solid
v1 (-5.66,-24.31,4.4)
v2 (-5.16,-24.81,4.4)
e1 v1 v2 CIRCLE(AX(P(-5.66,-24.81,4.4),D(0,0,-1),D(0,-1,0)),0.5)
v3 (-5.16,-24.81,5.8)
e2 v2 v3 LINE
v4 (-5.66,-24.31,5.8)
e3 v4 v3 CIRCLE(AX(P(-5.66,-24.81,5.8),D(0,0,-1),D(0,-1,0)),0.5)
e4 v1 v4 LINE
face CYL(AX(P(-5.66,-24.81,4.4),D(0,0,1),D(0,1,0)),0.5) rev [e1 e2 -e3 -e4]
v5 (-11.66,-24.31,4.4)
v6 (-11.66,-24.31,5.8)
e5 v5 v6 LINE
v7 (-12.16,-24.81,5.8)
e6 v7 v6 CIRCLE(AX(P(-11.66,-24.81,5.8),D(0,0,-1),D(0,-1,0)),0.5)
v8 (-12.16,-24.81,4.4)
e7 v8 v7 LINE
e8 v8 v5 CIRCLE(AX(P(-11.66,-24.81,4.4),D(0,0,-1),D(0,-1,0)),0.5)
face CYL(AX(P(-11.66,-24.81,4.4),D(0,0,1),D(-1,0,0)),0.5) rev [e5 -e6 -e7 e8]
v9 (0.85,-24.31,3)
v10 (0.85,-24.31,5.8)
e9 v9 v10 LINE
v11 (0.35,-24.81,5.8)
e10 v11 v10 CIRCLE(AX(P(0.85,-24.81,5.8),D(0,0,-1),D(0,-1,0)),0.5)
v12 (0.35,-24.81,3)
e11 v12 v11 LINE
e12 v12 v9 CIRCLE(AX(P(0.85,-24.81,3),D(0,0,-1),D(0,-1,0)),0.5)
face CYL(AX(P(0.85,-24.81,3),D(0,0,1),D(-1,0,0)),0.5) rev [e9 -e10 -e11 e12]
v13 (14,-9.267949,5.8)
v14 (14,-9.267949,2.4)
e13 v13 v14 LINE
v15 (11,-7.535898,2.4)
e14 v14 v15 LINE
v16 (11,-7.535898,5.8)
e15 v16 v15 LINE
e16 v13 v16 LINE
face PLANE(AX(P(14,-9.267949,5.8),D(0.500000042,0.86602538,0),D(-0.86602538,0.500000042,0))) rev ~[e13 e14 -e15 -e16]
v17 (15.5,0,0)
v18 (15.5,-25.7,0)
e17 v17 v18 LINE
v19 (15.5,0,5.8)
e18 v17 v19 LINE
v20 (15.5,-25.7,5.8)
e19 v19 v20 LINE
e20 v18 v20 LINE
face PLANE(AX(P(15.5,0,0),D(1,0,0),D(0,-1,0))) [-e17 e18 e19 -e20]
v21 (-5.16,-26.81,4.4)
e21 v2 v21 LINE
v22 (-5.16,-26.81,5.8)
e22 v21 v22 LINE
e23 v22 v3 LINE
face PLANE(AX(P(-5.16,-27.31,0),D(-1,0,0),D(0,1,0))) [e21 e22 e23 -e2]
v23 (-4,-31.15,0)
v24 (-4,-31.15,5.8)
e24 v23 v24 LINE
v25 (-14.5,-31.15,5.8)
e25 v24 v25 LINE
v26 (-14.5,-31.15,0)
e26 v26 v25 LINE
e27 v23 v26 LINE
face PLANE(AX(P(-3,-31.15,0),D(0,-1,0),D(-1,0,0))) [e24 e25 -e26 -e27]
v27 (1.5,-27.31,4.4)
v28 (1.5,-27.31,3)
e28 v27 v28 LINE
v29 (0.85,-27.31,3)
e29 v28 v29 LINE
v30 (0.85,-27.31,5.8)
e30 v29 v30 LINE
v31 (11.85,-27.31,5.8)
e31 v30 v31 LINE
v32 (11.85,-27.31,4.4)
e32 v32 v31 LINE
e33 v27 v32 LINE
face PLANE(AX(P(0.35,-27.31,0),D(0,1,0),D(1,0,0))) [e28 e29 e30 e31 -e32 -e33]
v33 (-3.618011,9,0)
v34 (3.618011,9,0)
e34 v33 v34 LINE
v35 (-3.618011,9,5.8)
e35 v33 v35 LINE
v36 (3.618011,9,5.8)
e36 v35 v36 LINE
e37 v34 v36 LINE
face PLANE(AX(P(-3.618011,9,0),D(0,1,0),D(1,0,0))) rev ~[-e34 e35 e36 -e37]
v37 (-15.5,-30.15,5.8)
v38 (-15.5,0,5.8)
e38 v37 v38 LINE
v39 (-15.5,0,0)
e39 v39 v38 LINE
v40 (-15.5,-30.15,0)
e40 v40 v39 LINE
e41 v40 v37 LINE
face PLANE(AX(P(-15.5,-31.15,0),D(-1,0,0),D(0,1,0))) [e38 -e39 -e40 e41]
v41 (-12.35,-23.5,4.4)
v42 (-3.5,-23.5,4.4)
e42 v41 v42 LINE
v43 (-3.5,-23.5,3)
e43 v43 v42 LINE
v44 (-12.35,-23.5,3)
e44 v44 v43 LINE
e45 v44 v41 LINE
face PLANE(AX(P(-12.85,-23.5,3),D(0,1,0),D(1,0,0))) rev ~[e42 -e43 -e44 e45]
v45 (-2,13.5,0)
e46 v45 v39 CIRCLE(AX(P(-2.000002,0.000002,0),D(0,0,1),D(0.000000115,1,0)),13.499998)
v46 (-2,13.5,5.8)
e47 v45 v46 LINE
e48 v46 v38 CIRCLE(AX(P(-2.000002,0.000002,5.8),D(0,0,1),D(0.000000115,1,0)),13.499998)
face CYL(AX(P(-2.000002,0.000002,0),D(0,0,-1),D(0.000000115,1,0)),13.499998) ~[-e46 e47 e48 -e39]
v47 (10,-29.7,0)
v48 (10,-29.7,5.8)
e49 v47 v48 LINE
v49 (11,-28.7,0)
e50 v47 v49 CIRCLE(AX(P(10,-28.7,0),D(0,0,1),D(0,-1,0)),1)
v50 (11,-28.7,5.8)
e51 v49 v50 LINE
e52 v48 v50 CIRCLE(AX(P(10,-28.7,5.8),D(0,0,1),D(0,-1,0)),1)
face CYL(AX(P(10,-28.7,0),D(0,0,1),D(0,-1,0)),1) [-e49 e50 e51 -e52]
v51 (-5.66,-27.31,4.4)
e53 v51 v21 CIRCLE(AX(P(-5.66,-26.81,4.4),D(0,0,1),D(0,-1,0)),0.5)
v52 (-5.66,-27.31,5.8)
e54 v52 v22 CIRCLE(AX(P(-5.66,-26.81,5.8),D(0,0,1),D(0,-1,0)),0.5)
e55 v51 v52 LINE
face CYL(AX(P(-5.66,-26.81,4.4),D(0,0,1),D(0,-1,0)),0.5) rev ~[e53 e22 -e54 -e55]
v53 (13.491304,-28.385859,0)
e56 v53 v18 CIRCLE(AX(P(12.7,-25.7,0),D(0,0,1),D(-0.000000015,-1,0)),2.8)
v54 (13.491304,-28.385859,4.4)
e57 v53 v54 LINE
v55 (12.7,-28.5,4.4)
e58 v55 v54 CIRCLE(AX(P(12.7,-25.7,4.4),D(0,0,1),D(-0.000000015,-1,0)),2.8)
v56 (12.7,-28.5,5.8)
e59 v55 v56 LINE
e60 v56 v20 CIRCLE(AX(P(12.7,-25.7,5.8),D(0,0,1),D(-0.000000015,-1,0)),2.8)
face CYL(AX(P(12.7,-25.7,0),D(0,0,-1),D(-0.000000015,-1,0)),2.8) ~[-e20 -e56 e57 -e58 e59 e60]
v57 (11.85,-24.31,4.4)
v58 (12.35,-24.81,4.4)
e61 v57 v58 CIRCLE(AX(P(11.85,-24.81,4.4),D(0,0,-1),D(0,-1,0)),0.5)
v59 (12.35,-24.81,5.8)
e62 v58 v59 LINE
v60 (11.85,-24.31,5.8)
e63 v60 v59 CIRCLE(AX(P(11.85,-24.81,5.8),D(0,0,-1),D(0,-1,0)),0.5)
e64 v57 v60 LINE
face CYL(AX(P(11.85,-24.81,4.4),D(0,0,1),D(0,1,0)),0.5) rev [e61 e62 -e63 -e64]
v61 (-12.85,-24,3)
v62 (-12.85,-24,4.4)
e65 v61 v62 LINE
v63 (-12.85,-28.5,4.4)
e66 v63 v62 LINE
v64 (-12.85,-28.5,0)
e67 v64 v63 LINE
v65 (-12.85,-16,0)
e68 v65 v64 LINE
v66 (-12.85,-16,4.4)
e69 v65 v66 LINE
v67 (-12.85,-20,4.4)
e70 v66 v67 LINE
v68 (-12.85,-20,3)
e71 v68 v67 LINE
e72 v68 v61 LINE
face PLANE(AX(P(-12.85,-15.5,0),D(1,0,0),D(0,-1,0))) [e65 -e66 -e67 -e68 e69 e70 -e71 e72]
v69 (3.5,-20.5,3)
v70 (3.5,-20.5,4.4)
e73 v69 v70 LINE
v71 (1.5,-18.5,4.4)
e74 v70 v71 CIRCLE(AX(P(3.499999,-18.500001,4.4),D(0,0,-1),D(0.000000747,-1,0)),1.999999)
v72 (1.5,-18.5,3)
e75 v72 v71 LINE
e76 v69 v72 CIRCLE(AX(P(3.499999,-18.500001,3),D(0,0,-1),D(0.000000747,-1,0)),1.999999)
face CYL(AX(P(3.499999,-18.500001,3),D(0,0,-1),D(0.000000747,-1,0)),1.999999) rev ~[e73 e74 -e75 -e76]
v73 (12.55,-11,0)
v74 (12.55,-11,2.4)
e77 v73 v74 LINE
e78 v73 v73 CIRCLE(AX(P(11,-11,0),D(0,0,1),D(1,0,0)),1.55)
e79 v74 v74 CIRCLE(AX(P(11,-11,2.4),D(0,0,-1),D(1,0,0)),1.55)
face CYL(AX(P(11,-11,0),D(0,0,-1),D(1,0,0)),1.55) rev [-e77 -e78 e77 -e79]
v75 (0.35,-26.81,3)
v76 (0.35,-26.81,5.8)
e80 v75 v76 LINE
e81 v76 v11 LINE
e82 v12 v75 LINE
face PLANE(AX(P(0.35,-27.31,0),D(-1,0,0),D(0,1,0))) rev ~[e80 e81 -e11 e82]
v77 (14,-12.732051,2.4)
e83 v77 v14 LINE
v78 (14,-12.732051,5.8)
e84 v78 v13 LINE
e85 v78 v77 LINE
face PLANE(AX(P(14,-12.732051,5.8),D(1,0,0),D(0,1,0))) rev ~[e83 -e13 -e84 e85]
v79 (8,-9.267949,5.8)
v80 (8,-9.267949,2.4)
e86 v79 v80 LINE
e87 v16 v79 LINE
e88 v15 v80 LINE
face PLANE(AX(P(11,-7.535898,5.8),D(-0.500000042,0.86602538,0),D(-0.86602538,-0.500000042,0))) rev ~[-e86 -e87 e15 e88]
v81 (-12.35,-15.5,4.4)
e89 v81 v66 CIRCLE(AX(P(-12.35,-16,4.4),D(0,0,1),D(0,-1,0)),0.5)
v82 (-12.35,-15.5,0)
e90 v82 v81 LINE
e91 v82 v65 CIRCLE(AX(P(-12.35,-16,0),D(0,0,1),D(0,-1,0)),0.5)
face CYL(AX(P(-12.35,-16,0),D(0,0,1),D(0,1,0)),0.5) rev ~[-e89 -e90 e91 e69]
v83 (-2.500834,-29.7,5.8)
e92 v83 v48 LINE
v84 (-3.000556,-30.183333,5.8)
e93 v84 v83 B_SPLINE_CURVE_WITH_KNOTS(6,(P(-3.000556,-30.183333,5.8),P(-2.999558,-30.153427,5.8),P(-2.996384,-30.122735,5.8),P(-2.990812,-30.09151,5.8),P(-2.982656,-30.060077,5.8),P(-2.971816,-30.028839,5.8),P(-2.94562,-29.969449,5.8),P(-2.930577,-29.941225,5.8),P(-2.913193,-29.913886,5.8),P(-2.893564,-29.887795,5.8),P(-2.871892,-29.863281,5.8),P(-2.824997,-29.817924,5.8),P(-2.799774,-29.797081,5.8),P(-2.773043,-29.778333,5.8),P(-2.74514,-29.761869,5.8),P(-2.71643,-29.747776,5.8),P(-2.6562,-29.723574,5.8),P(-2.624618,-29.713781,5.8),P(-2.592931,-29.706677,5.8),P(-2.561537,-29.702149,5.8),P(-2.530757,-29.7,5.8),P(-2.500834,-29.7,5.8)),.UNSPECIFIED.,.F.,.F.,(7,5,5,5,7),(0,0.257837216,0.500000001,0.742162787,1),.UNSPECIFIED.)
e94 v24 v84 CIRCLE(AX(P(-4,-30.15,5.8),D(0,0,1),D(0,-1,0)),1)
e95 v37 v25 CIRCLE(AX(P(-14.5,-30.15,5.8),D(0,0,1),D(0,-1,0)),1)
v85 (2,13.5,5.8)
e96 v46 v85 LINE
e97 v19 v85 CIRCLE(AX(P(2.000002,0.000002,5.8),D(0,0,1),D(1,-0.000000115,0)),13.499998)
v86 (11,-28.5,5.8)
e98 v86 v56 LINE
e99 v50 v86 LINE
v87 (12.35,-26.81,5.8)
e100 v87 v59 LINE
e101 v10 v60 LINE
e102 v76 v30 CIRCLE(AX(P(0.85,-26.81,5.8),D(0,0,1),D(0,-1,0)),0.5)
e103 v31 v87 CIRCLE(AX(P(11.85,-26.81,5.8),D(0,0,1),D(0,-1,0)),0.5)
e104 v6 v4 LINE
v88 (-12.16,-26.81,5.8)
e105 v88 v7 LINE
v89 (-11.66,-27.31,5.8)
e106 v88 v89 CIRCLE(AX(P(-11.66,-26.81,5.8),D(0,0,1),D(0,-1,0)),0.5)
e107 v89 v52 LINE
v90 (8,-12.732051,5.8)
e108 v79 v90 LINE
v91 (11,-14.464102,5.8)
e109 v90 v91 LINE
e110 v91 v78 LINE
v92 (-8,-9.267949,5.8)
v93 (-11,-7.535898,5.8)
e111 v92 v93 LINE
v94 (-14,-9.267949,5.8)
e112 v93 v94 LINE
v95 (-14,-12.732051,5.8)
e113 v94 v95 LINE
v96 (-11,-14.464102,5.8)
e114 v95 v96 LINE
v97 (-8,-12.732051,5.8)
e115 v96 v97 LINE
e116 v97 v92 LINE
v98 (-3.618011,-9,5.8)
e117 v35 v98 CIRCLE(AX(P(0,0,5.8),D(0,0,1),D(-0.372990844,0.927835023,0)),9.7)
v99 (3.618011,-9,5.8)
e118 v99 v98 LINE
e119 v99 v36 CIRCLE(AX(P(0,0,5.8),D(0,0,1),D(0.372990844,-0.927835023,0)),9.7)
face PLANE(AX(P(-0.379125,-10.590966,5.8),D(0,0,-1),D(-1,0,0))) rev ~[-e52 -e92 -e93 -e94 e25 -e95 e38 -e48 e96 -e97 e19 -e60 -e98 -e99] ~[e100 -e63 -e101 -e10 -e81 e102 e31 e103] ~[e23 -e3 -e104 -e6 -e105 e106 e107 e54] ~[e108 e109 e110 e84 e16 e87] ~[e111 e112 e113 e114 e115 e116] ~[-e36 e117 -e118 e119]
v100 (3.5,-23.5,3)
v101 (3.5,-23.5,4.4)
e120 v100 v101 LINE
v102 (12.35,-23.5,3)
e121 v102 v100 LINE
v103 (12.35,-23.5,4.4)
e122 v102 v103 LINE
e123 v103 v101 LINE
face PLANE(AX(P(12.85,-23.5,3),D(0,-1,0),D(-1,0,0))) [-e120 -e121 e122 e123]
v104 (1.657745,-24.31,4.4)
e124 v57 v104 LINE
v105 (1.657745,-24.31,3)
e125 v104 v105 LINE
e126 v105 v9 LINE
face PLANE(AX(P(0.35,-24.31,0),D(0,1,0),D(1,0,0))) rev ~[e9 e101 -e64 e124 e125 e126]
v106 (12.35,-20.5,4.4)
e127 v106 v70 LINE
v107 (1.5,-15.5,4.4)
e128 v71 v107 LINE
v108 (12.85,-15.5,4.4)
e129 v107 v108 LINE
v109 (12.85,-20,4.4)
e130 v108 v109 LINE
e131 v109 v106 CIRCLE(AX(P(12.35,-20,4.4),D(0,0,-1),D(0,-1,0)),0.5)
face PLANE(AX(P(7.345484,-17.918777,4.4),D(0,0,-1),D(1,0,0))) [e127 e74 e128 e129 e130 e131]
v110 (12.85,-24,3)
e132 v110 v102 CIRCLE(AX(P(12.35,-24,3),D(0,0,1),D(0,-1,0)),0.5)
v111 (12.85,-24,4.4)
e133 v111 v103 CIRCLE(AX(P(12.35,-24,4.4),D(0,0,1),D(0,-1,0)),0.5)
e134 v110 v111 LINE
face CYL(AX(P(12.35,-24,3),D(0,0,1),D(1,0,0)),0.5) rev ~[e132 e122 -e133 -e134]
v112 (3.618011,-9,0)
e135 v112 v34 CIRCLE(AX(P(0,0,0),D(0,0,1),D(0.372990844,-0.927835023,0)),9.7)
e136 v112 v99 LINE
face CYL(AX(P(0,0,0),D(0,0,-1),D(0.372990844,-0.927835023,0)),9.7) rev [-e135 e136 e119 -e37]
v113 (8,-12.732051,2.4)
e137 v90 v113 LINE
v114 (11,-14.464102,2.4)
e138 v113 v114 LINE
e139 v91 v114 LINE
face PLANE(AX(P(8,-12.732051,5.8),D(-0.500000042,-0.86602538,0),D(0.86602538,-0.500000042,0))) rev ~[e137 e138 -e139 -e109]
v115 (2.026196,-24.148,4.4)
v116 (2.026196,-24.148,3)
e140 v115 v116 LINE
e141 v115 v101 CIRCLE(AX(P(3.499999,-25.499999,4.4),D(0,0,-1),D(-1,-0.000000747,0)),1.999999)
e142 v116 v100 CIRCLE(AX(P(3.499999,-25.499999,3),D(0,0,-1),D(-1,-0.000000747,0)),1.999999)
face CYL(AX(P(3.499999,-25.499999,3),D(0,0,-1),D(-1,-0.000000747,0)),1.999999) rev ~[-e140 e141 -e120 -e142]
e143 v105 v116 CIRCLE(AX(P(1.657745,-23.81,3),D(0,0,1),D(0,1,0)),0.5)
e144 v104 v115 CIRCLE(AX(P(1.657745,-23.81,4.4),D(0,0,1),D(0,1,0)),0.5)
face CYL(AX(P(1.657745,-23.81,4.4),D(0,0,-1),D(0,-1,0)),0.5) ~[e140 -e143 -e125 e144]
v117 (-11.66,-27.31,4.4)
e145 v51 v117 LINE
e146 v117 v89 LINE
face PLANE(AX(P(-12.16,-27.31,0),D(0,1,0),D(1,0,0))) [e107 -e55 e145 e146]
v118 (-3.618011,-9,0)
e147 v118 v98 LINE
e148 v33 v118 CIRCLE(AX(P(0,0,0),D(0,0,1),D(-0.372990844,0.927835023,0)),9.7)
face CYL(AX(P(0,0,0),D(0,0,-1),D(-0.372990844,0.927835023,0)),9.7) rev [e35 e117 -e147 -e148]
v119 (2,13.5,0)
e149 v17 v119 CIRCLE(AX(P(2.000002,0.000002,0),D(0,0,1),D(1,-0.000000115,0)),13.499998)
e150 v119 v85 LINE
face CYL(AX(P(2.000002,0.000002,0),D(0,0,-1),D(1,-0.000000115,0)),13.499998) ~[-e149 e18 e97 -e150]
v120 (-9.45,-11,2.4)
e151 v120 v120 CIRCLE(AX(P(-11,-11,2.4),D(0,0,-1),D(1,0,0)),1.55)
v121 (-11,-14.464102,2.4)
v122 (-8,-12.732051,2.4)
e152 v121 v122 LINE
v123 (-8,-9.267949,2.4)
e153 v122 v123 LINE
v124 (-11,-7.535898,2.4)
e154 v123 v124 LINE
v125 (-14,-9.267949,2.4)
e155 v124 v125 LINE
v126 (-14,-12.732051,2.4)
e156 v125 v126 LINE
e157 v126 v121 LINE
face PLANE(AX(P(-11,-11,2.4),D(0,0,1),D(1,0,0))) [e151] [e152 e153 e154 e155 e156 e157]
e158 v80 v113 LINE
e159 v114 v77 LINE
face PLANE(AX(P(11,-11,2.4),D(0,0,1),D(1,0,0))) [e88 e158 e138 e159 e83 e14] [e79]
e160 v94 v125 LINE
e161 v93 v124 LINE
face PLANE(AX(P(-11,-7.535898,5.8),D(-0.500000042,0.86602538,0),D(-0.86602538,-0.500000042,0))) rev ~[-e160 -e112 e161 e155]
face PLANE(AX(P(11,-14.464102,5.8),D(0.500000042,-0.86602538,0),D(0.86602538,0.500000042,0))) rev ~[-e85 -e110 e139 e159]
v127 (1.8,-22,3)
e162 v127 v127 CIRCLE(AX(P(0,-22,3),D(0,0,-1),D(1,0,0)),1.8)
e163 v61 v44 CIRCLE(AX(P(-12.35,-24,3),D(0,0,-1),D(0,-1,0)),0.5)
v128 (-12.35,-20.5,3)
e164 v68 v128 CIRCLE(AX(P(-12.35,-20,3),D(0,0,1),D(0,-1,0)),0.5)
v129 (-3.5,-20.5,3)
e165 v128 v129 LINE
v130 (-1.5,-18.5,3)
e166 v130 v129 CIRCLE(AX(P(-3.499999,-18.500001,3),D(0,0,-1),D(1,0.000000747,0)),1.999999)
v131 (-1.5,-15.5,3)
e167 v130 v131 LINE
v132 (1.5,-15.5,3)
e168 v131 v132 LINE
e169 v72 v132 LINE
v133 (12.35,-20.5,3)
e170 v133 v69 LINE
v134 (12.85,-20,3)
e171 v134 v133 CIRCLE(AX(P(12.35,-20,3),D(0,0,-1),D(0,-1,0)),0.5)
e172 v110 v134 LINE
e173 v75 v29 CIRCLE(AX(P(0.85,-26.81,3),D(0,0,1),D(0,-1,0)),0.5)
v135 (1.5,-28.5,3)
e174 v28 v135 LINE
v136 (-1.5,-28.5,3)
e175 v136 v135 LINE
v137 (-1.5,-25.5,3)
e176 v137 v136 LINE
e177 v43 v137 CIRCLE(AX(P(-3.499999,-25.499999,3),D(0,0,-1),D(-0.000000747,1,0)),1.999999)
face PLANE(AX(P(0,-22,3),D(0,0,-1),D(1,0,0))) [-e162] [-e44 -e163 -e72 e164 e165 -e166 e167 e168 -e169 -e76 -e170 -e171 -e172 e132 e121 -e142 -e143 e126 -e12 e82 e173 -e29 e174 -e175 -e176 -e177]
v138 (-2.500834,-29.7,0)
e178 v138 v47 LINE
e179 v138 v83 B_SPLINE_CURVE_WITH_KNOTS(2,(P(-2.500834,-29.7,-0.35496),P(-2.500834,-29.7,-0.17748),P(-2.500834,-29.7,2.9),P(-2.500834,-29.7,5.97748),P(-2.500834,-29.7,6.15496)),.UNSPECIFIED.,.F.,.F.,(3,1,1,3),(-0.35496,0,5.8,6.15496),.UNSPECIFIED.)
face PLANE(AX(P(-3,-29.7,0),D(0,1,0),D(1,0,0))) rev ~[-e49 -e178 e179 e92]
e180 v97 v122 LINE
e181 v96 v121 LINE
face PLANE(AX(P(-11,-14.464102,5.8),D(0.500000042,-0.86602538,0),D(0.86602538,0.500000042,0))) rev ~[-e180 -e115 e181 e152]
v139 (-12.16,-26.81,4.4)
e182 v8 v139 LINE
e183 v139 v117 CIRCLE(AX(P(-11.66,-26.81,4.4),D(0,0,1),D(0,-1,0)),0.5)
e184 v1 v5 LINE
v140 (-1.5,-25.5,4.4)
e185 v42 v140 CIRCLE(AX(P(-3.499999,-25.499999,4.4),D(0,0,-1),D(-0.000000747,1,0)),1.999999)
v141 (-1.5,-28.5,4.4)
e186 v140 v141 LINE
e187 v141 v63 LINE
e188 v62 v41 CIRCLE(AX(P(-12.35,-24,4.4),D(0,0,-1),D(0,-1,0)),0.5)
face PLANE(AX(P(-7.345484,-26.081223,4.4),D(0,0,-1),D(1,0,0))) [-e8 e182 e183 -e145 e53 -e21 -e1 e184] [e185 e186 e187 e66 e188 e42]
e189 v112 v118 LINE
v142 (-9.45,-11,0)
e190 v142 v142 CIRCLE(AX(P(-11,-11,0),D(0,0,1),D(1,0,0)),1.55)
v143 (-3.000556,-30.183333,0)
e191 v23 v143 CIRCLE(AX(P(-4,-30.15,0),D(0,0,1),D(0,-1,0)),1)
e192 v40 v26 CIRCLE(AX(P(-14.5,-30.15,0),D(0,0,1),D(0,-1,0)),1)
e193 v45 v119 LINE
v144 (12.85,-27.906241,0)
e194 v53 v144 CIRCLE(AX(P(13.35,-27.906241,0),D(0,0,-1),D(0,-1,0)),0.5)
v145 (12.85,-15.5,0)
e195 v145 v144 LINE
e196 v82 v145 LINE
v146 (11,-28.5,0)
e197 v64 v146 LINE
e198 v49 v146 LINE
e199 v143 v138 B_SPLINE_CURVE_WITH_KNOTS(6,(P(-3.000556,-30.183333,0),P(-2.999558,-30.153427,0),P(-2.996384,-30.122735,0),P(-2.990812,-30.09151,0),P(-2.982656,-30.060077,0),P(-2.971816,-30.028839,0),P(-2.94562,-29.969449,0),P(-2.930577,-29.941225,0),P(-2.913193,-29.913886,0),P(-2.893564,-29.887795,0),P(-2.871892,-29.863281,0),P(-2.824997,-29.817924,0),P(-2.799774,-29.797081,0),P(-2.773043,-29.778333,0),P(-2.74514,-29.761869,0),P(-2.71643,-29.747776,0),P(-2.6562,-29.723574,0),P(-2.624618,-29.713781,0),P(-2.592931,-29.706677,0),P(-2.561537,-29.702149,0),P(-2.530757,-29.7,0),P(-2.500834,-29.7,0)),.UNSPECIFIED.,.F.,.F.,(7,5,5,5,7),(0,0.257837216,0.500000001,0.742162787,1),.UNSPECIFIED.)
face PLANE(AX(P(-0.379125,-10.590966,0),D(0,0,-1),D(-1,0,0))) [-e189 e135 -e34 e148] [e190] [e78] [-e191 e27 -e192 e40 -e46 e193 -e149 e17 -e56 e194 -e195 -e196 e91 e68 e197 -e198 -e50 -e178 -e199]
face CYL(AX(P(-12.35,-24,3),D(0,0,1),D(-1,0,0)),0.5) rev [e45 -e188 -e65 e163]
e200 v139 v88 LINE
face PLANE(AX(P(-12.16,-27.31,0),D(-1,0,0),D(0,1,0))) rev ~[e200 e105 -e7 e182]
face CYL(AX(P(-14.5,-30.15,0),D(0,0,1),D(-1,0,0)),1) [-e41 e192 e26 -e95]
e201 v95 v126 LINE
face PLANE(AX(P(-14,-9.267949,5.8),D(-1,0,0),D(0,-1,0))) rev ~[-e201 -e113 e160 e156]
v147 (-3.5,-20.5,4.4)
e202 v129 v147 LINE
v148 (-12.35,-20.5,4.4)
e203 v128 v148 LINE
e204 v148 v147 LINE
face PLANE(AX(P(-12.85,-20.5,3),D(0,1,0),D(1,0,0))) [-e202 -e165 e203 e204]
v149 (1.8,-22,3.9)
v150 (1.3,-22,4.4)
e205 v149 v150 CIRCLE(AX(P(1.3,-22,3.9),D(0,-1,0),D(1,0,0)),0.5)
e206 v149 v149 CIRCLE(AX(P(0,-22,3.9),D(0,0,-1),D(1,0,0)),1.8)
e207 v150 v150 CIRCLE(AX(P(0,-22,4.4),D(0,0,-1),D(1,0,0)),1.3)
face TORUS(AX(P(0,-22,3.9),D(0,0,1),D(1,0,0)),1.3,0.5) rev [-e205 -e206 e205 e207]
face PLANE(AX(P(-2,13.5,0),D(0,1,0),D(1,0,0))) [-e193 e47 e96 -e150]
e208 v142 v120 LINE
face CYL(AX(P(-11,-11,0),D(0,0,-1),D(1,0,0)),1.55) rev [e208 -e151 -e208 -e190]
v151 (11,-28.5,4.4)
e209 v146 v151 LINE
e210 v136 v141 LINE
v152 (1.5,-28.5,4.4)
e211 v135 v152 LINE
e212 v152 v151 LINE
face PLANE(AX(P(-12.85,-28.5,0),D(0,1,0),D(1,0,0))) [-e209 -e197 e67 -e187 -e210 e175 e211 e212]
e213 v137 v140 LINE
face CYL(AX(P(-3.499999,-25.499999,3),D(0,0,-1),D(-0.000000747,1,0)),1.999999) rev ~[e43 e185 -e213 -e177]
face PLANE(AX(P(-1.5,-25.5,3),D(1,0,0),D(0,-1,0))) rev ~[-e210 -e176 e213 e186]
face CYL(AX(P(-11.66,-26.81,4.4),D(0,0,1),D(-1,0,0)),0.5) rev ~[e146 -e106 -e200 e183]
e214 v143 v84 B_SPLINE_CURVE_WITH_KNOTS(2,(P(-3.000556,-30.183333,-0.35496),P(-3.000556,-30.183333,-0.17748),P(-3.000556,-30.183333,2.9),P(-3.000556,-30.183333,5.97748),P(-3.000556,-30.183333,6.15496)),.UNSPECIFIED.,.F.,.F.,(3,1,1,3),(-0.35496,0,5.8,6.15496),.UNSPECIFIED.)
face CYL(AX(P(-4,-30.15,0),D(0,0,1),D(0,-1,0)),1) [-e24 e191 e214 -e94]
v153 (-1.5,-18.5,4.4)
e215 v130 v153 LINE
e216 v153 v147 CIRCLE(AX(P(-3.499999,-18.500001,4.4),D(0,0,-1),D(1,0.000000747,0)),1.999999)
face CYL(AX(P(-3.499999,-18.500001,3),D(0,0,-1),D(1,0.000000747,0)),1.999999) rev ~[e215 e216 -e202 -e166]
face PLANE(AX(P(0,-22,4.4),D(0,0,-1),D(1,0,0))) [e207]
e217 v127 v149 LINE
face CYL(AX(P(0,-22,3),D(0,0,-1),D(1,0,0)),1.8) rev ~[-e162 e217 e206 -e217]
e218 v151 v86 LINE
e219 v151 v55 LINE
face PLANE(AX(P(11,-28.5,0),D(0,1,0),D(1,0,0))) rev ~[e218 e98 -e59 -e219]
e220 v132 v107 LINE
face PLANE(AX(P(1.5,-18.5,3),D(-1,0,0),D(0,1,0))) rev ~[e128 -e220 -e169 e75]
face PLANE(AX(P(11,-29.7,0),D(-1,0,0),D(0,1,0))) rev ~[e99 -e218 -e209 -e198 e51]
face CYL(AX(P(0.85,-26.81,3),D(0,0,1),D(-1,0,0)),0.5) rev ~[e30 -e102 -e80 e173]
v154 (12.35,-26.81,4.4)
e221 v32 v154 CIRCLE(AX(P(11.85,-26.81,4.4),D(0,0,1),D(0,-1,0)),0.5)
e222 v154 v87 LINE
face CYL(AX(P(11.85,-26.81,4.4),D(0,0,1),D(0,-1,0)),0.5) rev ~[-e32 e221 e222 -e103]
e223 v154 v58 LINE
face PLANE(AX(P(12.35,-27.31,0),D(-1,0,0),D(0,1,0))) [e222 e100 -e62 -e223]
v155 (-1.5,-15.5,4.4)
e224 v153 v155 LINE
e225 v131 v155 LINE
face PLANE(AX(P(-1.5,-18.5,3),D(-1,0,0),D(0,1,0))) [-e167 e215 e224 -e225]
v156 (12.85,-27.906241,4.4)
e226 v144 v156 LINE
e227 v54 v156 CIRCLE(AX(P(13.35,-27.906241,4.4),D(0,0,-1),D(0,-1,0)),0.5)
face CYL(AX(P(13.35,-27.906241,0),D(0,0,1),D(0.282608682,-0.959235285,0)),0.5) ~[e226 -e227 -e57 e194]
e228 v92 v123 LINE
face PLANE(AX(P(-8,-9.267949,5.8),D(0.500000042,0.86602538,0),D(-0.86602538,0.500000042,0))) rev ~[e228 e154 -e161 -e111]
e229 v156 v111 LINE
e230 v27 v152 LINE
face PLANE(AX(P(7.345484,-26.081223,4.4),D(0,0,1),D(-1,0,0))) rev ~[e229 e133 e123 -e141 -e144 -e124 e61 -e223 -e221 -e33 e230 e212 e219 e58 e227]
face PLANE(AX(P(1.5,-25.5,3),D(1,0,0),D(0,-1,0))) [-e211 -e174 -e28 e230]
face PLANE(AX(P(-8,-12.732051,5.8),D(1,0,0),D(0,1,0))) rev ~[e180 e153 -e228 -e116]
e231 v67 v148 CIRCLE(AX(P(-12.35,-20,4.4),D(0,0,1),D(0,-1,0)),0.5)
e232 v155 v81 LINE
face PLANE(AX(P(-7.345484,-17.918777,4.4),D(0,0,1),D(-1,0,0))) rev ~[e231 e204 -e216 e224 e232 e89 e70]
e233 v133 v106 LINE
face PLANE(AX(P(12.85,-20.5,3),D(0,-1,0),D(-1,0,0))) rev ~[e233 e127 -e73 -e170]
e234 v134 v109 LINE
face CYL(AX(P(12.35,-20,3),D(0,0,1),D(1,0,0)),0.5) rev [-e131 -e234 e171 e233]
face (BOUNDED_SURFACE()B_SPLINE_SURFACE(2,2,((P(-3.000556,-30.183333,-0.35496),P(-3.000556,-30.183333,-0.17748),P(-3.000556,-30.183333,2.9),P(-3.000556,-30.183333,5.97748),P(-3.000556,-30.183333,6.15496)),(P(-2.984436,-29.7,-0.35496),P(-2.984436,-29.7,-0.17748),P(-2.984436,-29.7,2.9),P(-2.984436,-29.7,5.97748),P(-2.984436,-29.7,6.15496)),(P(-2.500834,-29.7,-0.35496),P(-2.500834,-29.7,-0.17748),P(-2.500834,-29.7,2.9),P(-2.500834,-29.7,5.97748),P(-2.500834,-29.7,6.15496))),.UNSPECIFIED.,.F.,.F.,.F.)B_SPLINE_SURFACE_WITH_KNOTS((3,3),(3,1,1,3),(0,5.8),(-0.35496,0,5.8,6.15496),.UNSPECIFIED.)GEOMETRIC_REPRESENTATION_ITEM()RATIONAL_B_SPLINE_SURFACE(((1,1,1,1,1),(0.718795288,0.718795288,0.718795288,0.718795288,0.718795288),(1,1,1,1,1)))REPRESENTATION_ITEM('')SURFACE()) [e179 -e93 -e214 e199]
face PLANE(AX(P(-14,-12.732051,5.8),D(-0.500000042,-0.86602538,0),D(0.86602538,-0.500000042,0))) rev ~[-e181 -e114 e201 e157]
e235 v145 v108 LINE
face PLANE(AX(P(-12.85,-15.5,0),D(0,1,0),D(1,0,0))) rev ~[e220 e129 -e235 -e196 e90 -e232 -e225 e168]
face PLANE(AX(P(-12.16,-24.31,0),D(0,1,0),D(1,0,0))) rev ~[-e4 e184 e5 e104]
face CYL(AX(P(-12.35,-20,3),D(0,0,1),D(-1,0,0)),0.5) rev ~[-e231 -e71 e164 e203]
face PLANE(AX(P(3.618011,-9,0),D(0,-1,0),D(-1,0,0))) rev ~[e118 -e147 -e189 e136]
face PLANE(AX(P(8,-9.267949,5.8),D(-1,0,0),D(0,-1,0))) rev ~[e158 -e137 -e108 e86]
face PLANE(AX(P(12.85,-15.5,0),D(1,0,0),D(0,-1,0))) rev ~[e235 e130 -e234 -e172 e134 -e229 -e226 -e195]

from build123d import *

# Parameters (mm, degrees)
SKETCH_R        = 1.55
SKETCH_W        = 7
SKETCH_H        = 3
SKETCH_W_2      = 12
PAD_DEPTH       = 5.8
SKETCH005_W     = 25.7
SKETCH005_H     = 13
POCKET_DEPTH    = 3
SKETCH006_R     = 1.8
POCKET001_DEPTH = 1.4
POCKET002_DEPTH = 3.4
FILLET_R        = 1
FILLET001_R     = 0.5


with BuildPart() as part:
    # Sketch → Pad (new body)
    with BuildSketch(Plane.XY):
        with BuildLine():
            Line((-2, 13.5), (2, 13.5))
            ThreePointArc((15.5, 0), (11.545942, 9.545942), (2, 13.5))
            Line((15.5, 0), (15.5, -25.7))
            ThreePointArc((12.7, -28.5), (14.679899, -27.679899), (15.5, -25.7))
            Line((11, -28.5), (12.7, -28.5))
            Line((11, -29.7), (11, -28.5))
            Line((-3, -29.7), (11, -29.7))
            Line((-3, -31.15), (-3, -29.7))
            Line((-3, -31.15), (-15.5, -31.15))
            Line((-15.5, -31.15), (-15.5, 0))
            ThreePointArc((-2, 13.5), (-11.545942, 9.545942), (-15.5, 0))
        make_face()
        with Locations((-11, -11)):
            Circle(SKETCH_R, mode=Mode.SUBTRACT)
        with Locations((11, -11)):
            Circle(SKETCH_R, mode=Mode.SUBTRACT)
        with BuildLine():
            ThreePointArc((-3.618011, 9), (-9.7, 0), (-3.618011, -9))
            Line((3.618011, -9), (-3.618011, -9))
            ThreePointArc((3.618011, -9), (9.7, 0), (3.618011, 9))
            Line((-3.618011, 9), (3.618011, 9))
        make_face(mode=Mode.SUBTRACT)
        with Locations((-8.66, -25.81)):
            Rectangle(SKETCH_W, SKETCH_H, mode=Mode.SUBTRACT)
        with Locations((6.35, -25.81)):
            Rectangle(SKETCH_W_2, SKETCH_H, mode=Mode.SUBTRACT)
    extrude(amount=PAD_DEPTH)

    # Sketch005 (on Face26 of Pad) → Pocket (cut)
    with BuildSketch(Plane(origin=(0, 0, 0), x_dir=(1, 0, 0), z_dir=(0, 0, -1))):
        with Locations((0, 22)):
            Rectangle(SKETCH005_W, SKETCH005_H)
    extrude(amount=-POCKET_DEPTH, mode=Mode.SUBTRACT)

    # Sketch006 (on Face32 of Pocket) → Pocket001 (cut)
    with BuildSketch(Plane(origin=(0, 0, 3), x_dir=(1, 0, 0), z_dir=(0, 0, -1))):
        with Locations((0, 22)):
            Circle(SKETCH006_R)
        with BuildLine():
            Line((-12.85, 20.5), (-3.5, 20.5))
            ThreePointArc((-1.5, 18.5), (-2.085786, 19.914214), (-3.5, 20.5))
            Line((-1.5, 18.5), (-1.5, 15.5))
            Line((-1.5, 15.5), (-12.85, 15.5))
            Line((-12.85, 15.5), (-12.85, 20.5))
        make_face()
        with BuildLine():
            Line((1.5, 15.5), (12.85, 15.5))
            Line((12.85, 15.5), (12.85, 20.5))
            Line((12.85, 20.5), (3.5, 20.5))
            ThreePointArc((3.5, 20.5), (2.085786, 19.914214), (1.5, 18.5))
            Line((1.5, 18.5), (1.5, 15.5))
        make_face()
        with BuildLine():
            Line((-12.85, 23.5), (-3.5, 23.5))
            ThreePointArc((-3.5, 23.5), (-2.085786, 24.085786), (-1.5, 25.5))
            Line((-1.5, 25.5), (-1.5, 28.5))
            Line((-1.5, 28.5), (-12.85, 28.5))
            Line((-12.85, 28.5), (-12.85, 23.5))
        make_face()
        with BuildLine():
            Line((1.5, 28.5), (12.85, 28.5))
            Line((12.85, 28.5), (12.85, 23.5))
            Line((12.85, 23.5), (3.5, 23.5))
            ThreePointArc((1.5, 25.5), (2.085786, 24.085786), (3.5, 23.5))
            Line((1.5, 25.5), (1.5, 28.5))
        make_face()
    extrude(amount=-POCKET001_DEPTH, mode=Mode.SUBTRACT)

    # Sketch001 (on Face5 of Pocket001) → Pocket002 (cut)
    with BuildSketch(Plane.XY.offset(5.8)):
        Polygon((-8, -12.732051), (-8, -9.267949), (-11, -7.535898), (-14, -9.267949), (-14, -12.732051), (-11, -14.464102), align=None)
        Polygon((14, -12.732051), (14, -9.267949), (11, -7.535898), (8, -9.267949), (8, -12.732051), (11, -14.464102), align=None)
    extrude(amount=-POCKET002_DEPTH, mode=Mode.SUBTRACT)

    # Fillet
    fillet_edges = [part.edges().sort_by_distance(p)[0] for p in [
        (-15.5, -31.15, 2.9),
        (-3, -31.15, 2.9),
        (11, -29.7, 2.9),
    ]]
    fillet(fillet_edges, radius=FILLET_R)

    # Fillet001
    fillet001_edges = [part.edges().sort_by_distance(p)[0] for p in [
        (12.85, -23.5, 3.7),
        (12.85, -20.5, 3.7),
        (-12.85, -20.5, 3.7),
        (-12.85, -23.5, 3.7),
        (-1.8, -22, 4.4),
        (0.35, -27.31, 4.4),
        (0.35, -24.31, 4.4),
        (1.892549, -24.31, 3.7),
        (-3, -29.7, 2.9),
        (12.35, -27.31, 5.1),
        (12.35, -24.31, 5.1),
        (-5.16, -27.31, 5.1),
        (-5.16, -24.31, 5.1),
        (-12.16, -24.31, 5.1),
        (-12.16, -27.31, 5.1),
        (-12.85, -15.5, 1.5),
        (12.85, -28.495979, 1.5),
    ]]
    fillet(fillet001_edges, radius=FILLET001_R)


solid = part.part
